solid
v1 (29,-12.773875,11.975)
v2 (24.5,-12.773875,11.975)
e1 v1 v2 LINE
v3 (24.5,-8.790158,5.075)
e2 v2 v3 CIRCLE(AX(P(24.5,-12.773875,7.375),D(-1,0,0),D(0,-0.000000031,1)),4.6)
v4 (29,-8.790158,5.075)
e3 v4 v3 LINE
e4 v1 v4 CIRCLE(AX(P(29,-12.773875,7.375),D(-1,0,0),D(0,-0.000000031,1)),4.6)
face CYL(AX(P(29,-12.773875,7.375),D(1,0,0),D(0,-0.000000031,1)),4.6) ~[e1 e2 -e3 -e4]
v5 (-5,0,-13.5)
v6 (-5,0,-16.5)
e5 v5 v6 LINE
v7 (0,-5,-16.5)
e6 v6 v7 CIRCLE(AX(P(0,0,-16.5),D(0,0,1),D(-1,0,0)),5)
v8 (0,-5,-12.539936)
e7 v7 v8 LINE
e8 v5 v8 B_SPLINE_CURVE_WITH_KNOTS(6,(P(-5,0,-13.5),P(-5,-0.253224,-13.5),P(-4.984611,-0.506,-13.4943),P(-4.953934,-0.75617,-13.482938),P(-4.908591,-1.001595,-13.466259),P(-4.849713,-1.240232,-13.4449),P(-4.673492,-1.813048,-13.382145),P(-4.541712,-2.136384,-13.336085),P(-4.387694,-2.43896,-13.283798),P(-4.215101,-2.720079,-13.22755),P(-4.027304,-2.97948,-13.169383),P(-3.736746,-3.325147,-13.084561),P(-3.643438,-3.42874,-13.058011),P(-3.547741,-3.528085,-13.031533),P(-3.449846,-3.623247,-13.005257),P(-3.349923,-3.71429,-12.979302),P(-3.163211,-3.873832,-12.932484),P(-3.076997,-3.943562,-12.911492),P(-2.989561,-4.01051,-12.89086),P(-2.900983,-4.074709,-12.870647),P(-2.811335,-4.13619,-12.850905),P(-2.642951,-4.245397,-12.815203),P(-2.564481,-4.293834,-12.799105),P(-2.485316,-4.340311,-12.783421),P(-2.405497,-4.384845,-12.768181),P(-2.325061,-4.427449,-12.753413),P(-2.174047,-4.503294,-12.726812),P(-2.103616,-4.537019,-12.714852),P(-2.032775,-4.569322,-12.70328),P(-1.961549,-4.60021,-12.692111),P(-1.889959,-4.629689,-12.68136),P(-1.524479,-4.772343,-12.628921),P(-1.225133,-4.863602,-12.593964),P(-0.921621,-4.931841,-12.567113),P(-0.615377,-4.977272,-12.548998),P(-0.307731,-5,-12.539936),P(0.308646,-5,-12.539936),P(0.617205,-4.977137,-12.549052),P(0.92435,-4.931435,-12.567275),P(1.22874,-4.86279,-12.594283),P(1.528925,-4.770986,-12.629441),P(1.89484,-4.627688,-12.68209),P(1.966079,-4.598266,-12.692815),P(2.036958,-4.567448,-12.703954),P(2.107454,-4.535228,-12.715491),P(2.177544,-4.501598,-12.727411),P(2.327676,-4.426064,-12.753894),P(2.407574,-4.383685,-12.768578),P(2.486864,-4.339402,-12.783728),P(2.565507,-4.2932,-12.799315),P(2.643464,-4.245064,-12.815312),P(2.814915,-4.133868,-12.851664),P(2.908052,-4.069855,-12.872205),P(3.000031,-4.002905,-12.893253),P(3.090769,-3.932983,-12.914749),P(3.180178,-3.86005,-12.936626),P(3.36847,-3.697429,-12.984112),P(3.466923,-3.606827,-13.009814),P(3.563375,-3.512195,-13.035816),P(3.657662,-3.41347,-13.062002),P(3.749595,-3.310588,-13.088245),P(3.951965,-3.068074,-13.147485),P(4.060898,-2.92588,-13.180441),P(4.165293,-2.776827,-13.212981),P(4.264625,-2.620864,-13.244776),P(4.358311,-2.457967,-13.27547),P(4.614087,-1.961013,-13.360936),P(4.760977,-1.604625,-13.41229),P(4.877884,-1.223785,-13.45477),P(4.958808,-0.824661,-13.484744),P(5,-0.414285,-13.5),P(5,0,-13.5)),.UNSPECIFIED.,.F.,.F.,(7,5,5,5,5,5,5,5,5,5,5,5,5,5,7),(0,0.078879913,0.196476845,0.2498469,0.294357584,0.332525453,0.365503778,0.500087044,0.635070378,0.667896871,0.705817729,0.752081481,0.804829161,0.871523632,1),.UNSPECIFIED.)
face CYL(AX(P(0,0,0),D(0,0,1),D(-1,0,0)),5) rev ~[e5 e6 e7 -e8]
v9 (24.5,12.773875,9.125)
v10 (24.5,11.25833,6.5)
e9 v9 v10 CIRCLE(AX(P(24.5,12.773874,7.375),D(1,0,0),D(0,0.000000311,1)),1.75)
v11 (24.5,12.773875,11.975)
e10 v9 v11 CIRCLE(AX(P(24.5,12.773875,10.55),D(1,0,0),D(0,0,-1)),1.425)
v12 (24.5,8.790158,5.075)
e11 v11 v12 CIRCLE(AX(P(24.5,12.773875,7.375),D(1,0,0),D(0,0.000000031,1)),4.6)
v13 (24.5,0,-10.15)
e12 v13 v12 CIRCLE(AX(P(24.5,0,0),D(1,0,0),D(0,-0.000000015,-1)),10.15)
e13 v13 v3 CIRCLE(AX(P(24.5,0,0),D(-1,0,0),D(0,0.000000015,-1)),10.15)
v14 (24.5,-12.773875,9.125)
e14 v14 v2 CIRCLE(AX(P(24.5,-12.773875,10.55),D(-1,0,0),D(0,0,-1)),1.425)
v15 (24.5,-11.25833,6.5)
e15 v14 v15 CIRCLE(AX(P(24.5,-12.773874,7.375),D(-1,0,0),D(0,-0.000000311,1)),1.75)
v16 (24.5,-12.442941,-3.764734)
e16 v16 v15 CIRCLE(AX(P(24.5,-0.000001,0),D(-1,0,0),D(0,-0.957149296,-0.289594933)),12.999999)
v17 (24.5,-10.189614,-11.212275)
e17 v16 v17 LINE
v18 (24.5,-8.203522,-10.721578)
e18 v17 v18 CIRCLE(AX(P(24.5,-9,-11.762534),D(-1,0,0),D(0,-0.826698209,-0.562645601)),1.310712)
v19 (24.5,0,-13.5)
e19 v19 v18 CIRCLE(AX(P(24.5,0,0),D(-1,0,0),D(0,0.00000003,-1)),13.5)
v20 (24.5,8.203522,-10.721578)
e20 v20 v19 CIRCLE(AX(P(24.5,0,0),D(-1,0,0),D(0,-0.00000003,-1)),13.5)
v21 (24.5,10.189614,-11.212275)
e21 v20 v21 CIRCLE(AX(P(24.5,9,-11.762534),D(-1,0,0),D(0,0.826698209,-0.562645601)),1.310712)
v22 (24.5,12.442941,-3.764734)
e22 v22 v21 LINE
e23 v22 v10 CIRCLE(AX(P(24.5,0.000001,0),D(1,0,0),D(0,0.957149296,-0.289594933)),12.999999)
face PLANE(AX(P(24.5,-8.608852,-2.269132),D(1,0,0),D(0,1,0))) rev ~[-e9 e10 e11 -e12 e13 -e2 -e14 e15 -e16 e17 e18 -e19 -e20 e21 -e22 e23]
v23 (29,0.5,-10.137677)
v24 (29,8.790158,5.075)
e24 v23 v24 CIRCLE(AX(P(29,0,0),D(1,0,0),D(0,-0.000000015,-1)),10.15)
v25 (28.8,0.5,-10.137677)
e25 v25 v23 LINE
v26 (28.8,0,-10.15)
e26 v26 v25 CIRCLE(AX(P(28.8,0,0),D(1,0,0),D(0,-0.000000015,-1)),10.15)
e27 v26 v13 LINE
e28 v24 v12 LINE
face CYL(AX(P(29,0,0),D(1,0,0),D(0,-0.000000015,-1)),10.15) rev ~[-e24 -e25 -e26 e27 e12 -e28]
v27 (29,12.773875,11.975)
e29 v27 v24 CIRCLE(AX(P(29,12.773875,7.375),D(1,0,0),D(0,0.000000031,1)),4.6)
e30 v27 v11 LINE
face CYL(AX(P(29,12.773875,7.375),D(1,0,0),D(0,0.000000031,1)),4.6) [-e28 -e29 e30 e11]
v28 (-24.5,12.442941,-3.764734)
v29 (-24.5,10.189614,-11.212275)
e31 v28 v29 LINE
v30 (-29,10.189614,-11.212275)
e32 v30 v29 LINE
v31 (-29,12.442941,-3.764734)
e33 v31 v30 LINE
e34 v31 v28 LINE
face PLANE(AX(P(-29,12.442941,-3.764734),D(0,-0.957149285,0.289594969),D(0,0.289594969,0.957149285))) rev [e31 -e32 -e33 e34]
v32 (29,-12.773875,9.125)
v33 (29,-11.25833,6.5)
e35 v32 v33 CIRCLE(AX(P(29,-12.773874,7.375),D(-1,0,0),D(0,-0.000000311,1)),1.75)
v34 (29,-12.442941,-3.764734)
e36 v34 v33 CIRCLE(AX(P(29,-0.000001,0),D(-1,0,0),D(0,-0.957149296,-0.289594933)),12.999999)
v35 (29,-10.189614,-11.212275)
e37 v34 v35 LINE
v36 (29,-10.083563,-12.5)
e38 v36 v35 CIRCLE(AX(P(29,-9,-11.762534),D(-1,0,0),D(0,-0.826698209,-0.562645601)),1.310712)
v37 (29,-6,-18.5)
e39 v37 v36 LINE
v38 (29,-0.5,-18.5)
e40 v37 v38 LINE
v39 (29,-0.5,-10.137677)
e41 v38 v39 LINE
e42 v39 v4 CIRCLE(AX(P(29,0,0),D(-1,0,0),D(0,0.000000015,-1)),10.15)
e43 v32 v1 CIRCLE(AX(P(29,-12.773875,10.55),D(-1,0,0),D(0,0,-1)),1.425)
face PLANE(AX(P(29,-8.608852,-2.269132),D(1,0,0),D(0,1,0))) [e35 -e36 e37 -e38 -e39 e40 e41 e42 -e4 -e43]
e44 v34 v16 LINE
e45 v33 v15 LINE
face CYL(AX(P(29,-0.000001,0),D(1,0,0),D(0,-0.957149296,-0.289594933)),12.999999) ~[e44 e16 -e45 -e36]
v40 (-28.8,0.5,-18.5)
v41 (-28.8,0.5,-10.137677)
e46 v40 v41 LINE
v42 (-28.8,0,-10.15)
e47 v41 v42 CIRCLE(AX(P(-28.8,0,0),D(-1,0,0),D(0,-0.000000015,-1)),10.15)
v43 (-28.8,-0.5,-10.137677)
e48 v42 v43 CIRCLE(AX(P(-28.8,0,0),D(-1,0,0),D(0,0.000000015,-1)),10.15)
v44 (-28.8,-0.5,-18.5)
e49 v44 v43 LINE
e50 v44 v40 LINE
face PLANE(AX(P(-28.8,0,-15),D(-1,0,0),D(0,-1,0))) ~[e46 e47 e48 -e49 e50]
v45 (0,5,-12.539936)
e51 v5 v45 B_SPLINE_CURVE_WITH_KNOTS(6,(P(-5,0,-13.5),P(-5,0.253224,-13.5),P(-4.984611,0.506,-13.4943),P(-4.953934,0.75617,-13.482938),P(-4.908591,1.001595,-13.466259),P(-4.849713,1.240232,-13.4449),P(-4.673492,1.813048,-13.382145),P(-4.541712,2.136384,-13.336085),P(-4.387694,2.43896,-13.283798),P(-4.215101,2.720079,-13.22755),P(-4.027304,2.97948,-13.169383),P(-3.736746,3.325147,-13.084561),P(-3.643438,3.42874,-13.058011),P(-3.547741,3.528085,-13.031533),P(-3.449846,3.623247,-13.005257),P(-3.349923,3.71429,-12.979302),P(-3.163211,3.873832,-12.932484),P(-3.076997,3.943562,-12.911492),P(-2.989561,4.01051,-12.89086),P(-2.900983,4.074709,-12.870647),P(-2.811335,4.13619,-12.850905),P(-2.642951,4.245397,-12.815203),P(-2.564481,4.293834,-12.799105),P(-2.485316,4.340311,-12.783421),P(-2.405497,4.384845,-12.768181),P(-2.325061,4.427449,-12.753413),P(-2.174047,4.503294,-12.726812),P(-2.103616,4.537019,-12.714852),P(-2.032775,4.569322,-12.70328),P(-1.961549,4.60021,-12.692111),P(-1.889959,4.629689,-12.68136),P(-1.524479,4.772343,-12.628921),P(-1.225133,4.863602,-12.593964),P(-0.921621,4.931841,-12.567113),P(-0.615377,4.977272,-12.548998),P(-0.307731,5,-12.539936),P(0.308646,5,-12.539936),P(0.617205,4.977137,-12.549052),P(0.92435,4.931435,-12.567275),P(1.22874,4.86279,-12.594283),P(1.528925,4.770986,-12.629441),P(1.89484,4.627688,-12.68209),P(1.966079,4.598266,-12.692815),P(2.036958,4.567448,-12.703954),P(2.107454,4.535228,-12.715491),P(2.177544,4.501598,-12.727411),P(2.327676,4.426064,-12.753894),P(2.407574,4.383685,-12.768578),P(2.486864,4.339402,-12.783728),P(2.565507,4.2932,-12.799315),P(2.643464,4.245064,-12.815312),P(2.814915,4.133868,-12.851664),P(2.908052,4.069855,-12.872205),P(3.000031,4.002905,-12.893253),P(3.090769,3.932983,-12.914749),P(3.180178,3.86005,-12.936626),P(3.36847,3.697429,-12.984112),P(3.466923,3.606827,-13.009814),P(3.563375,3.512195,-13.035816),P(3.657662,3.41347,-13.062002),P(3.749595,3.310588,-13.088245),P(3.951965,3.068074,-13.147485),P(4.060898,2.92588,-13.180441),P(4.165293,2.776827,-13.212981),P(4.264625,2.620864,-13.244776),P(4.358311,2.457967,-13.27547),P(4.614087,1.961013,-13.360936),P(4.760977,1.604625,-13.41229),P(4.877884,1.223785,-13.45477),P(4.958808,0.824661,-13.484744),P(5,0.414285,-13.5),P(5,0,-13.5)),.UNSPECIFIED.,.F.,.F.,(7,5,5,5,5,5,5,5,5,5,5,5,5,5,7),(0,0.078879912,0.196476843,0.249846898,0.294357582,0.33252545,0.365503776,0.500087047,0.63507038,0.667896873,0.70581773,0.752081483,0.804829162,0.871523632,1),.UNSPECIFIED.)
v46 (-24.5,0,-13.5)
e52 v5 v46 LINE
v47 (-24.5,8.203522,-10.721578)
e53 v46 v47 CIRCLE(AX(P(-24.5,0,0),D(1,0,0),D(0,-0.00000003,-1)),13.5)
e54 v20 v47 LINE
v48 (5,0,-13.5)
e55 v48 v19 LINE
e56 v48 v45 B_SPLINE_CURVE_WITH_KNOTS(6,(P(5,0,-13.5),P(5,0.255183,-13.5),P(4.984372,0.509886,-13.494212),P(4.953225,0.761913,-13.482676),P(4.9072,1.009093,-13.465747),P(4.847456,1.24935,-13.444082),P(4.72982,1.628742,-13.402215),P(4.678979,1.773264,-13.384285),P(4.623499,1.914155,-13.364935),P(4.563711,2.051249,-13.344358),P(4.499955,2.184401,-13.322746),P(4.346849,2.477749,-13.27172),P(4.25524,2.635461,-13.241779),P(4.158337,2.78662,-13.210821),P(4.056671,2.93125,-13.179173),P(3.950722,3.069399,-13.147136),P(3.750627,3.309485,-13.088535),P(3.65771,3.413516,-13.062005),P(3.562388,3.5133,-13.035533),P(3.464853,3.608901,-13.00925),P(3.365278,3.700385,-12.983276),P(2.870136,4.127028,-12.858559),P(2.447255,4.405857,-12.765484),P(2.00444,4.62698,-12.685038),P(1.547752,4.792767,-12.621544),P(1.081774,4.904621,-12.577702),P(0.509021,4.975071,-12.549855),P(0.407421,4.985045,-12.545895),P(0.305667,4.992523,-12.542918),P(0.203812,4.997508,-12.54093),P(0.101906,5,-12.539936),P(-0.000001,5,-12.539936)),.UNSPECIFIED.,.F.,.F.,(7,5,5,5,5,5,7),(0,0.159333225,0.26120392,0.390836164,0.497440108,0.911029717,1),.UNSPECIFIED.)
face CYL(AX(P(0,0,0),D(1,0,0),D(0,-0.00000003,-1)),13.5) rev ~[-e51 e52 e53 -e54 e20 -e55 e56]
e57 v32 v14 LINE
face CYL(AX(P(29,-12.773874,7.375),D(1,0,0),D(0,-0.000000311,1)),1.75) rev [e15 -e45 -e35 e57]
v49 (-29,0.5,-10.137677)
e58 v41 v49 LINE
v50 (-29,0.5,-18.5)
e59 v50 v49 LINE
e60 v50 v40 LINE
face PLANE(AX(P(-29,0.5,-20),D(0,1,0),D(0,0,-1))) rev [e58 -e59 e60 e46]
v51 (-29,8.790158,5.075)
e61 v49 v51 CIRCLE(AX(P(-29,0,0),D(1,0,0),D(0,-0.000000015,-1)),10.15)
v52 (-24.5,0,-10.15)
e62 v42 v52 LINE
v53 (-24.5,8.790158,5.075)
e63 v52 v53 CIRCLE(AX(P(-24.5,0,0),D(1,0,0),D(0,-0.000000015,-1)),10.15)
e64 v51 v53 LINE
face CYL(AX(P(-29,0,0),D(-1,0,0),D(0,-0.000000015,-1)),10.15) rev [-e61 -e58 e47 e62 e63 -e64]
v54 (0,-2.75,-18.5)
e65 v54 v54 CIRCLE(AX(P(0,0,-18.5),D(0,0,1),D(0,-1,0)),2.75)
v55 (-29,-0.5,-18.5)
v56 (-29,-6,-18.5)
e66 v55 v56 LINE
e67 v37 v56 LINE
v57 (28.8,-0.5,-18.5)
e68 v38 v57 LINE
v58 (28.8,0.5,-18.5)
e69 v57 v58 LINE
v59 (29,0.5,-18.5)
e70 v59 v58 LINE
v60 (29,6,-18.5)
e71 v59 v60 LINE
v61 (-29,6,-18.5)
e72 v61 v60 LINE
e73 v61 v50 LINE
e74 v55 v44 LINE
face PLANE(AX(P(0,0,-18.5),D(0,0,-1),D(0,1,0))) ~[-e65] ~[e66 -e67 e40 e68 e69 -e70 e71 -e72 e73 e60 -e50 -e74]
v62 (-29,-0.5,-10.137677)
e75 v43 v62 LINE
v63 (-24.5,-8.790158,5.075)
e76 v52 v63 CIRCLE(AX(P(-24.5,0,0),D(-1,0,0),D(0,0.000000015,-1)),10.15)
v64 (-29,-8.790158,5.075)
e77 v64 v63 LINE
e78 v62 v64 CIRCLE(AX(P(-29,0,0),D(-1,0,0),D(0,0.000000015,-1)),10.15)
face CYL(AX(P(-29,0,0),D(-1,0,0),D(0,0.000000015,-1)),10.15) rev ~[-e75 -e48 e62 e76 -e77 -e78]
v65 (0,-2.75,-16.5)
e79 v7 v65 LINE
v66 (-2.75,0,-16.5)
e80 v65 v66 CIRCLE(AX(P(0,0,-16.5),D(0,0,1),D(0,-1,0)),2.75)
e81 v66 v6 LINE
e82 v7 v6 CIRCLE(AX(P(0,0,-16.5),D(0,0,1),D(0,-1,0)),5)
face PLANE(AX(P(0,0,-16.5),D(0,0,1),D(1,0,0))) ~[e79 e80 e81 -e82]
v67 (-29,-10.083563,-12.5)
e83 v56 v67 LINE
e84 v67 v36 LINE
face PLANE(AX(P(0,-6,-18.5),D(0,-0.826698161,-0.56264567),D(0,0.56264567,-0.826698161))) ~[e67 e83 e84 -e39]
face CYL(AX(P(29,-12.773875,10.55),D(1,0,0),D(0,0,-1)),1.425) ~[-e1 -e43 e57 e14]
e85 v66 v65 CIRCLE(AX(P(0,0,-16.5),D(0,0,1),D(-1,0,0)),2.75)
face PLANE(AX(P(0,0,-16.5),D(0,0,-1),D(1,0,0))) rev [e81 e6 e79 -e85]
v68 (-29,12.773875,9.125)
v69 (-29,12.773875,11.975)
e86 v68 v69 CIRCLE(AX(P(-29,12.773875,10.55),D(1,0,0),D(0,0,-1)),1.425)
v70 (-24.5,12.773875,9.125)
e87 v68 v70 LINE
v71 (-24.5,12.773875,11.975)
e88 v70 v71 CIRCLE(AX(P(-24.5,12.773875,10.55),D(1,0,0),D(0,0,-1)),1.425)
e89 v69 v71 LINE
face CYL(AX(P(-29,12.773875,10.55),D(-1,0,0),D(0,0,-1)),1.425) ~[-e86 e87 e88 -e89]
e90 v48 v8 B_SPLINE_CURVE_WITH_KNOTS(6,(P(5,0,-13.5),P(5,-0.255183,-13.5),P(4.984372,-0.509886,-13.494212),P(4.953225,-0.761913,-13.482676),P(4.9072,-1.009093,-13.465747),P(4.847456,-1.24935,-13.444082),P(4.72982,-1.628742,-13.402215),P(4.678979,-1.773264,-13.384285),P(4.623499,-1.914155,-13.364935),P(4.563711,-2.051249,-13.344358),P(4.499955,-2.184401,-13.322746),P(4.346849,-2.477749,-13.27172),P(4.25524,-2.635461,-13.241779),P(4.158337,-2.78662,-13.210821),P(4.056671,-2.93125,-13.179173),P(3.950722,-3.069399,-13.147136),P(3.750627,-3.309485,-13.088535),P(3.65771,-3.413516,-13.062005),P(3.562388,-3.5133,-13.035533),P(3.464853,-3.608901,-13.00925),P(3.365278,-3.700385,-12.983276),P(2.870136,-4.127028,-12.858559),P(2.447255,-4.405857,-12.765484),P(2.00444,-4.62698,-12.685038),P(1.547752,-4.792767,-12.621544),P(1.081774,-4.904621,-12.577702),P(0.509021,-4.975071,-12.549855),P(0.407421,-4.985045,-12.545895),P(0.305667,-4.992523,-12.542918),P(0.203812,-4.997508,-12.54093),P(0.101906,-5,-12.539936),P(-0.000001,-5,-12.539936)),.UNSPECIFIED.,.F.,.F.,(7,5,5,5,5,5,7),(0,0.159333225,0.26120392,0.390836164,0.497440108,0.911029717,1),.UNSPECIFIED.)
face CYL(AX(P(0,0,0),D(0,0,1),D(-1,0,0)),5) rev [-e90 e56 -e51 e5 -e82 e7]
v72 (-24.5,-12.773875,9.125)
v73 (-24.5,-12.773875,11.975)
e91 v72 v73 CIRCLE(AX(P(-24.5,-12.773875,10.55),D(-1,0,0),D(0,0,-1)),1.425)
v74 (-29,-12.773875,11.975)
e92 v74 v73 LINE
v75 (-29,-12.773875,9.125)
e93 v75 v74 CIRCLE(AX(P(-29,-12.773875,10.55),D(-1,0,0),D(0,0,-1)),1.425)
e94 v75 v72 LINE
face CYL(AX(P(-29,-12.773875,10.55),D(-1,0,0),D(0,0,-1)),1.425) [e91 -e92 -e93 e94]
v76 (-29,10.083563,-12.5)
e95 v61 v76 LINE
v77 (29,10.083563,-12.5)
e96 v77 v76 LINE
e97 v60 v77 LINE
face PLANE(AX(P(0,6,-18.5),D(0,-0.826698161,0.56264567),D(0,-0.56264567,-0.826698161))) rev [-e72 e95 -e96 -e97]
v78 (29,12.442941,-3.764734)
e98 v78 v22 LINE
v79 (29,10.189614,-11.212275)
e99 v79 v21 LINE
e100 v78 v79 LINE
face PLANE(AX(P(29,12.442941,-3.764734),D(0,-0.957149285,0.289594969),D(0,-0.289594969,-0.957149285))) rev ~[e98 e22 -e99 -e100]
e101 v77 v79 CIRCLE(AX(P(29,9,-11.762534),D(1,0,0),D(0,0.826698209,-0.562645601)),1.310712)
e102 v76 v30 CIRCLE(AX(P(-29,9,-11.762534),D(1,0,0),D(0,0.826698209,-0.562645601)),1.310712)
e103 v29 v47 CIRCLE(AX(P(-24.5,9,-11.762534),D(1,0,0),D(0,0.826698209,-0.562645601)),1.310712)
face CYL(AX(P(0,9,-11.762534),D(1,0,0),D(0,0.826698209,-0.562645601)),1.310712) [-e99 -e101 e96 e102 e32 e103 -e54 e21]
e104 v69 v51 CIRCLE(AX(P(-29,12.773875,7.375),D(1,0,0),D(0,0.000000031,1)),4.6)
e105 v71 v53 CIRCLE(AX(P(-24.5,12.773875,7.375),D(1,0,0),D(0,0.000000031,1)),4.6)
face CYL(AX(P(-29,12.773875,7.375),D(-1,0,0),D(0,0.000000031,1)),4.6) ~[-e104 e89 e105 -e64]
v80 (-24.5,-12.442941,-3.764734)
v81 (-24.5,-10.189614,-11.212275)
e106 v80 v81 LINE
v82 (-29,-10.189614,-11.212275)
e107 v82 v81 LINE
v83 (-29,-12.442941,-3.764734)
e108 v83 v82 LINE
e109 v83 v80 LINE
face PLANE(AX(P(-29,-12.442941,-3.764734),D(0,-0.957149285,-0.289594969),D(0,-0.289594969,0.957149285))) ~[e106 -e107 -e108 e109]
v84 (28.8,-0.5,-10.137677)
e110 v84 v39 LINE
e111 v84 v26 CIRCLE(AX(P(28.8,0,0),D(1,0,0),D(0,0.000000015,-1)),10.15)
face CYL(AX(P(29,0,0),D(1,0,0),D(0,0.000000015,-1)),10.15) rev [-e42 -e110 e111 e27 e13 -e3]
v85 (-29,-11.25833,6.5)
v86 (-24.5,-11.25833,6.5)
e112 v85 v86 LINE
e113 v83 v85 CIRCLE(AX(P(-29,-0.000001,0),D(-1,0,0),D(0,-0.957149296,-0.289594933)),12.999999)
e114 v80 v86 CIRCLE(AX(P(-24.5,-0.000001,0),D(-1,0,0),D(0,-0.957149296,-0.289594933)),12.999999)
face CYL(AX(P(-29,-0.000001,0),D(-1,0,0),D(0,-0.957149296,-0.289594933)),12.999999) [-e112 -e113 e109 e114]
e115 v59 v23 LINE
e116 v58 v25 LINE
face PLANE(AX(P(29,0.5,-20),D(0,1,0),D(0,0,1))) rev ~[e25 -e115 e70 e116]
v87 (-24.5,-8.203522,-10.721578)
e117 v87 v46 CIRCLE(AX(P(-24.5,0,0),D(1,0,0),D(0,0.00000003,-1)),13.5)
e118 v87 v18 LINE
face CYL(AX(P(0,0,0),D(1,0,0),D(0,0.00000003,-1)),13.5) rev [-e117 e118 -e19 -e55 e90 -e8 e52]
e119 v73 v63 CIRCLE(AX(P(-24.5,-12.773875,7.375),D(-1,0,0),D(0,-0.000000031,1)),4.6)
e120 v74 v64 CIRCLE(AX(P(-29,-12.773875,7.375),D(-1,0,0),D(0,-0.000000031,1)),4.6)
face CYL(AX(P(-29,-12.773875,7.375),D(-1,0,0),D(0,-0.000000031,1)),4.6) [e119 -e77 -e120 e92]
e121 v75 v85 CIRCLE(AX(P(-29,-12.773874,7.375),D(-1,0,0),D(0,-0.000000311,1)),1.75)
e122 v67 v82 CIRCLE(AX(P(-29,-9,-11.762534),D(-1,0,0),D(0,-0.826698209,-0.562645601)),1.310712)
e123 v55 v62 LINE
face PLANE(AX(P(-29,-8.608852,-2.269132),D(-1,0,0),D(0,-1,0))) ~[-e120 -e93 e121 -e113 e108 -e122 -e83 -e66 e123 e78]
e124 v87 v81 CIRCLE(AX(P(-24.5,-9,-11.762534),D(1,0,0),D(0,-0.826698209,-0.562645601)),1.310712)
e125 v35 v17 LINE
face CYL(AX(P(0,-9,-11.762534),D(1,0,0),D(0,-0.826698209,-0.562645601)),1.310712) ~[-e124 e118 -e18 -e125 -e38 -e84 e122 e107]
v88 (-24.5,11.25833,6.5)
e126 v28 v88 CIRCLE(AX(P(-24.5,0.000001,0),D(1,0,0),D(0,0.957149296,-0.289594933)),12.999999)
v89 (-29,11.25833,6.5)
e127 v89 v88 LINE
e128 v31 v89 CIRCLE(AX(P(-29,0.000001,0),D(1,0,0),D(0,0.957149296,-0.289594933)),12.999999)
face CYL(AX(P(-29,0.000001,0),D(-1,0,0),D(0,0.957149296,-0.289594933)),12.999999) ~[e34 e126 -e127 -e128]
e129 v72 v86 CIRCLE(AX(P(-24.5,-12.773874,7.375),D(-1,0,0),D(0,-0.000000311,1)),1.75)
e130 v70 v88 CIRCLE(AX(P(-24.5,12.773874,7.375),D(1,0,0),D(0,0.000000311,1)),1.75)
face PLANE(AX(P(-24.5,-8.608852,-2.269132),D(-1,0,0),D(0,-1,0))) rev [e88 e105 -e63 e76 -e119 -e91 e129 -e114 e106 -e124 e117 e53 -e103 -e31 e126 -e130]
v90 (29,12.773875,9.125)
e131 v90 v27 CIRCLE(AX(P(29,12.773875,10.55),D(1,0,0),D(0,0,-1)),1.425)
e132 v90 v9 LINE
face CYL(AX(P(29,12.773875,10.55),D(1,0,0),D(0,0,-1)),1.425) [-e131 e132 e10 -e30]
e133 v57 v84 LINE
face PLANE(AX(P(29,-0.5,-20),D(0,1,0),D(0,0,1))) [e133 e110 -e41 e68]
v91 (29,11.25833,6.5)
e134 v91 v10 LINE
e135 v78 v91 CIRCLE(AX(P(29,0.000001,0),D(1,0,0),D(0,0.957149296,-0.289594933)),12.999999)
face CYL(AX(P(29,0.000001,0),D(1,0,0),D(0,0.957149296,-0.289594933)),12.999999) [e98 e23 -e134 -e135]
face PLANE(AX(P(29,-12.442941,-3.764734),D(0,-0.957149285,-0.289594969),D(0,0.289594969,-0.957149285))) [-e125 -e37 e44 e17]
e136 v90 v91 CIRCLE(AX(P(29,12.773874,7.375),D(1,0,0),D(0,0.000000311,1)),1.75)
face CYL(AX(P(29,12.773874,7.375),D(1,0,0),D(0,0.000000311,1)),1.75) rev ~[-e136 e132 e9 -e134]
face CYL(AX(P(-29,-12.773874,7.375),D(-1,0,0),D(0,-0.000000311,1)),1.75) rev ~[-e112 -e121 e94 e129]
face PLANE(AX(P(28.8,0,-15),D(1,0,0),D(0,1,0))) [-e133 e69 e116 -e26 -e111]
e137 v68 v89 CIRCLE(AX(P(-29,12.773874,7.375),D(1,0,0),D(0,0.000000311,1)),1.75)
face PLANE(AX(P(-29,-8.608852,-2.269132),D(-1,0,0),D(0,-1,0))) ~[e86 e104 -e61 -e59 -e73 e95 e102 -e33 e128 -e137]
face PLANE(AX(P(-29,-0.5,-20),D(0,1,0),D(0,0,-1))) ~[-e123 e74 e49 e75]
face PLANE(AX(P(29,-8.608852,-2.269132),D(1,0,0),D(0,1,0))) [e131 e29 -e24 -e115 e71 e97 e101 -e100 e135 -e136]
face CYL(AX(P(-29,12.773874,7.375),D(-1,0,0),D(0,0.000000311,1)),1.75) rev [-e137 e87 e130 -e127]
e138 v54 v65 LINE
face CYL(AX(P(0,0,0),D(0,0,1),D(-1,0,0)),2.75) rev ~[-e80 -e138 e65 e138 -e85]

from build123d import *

# Parameters (mm, degrees)
PAD005_DEPTH                  = 29
PAD006_DEPTH                  = 4.5
SKETCH014_R                   = 2.75
POCKET005_DEPTH               = 107.300407
SKETCH015_R                   = 5
POCKET006_DEPTH               = 16.5
PAD005_MIRRORED002_2_DEPTH    = 29
PAD006_MIRRORED002_2_DEPTH    = 4.5
SKETCH014_MIRRORED002_2_R     = 2.75
POCKET005_MIRRORED002_2_DEPTH = 107.300407
SKETCH015_MIRRORED002_2_R     = 5
POCKET006_MIRRORED002_2_DEPTH = 16.5
SKETCH023_W                   = 1
SKETCH023_H                   = 10
POCKET011_DEPTH               = 0.2


with BuildPart() as part:
    # Sketch012 → Pad005 (new body)
    with BuildSketch(Plane.YZ):
        with BuildLine():
            ThreePointArc((0, -13.5), (4.330629, -12.786542), (8.203522, -10.721578))
            ThreePointArc((10.083563, -12.5), (9.900722, -10.810344), (8.203522, -10.721578))
            Line((6, -18.5), (10.083563, -12.5))
            Line((0, -18.5), (6, -18.5))
            Line((0, -13.5), (0, -18.5))
        make_face()
    pad005 = extrude(amount=PAD005_DEPTH)

    # Sketch013 → Pad006 (join)
    with BuildSketch(Plane.YZ.offset(29)):
        with BuildLine():
            ThreePointArc((0, -10.15), (8.790158, -5.075), (8.790158, 5.075))
            ThreePointArc((12.773875, 11.975), (8.790158, 9.675), (8.790158, 5.075))
            ThreePointArc((12.773875, 9.125), (14.198875, 10.55), (12.773875, 11.975))
            ThreePointArc((12.773875, 9.125), (11.25833, 8.25), (11.25833, 6.5))
            ThreePointArc((12.442941, -3.764734), (12.914285, 1.490384), (11.25833, 6.5))
            Line((12.442941, -3.764734), (9.8, -12.5))
            Line((9.8, -12.5), (0, -14.15))
            Line((0, -10.15), (0, -14.15))
        make_face()
    pad006 = extrude(amount=-PAD006_DEPTH)

    # Sketch014 → Pocket005 (cut, through all)
    with BuildSketch(Plane.XY):
        Circle(SKETCH014_R)
    pocket005 = extrude(amount=-POCKET005_DEPTH, mode=Mode.SUBTRACT)

    # Sketch015 → Pocket006 (cut)
    with BuildSketch(Plane.XY):
        Circle(SKETCH015_R)
    pocket006 = extrude(amount=-POCKET006_DEPTH, mode=Mode.SUBTRACT)

    # Sketch012 Mirrored002 2 → Pad005 Mirrored002 2 (add)
    with BuildSketch(Plane(origin=(0, 0, 0), x_dir=(0, -1, 0), z_dir=(-1, 0, 0))):
        with BuildLine():
            ThreePointArc((0, -13.5), (4.330629, -12.786542), (8.203522, -10.721578))
            ThreePointArc((10.083563, -12.5), (9.900722, -10.810344), (8.203522, -10.721578))
            Line((6, -18.5), (10.083563, -12.5))
            Line((0, -18.5), (6, -18.5))
            Line((0, -13.5), (0, -18.5))
        make_face()
    pad005_mirrored002_2 = extrude(amount=-PAD005_MIRRORED002_2_DEPTH)

    # Sketch013 Mirrored002 2 → Pad006 Mirrored002 2 (add)
    with BuildSketch(Plane(origin=(29, 0, 0), x_dir=(0, -1, 0), z_dir=(-1, 0, 0))):
        with BuildLine():
            ThreePointArc((0, -10.15), (8.790158, -5.075), (8.790158, 5.075))
            ThreePointArc((12.773875, 11.975), (8.790158, 9.675), (8.790158, 5.075))
            ThreePointArc((12.773875, 9.125), (14.198875, 10.55), (12.773875, 11.975))
            ThreePointArc((12.773875, 9.125), (11.25833, 8.25), (11.25833, 6.5))
            ThreePointArc((12.442941, -3.764734), (12.914285, 1.490384), (11.25833, 6.5))
            Line((12.442941, -3.764734), (9.8, -12.5))
            Line((9.8, -12.5), (0, -14.15))
            Line((0, -10.15), (0, -14.15))
        make_face()
    pad006_mirrored002_2 = extrude(amount=PAD006_MIRRORED002_2_DEPTH)

    # Sketch014 Mirrored002 2 → Pocket005 Mirrored002 2 (cut, through all)
    with BuildSketch(Plane(origin=(0, 0, 0), x_dir=(1, 0, 0), z_dir=(0, 0, -1))):
        Circle(SKETCH014_MIRRORED002_2_R)
    pocket005_mirrored002_2 = extrude(amount=POCKET005_MIRRORED002_2_DEPTH, mode=Mode.SUBTRACT)

    # Sketch015 Mirrored002 2 → Pocket006 Mirrored002 2 (cut)
    with BuildSketch(Plane(origin=(0, 0, 0), x_dir=(1, 0, 0), z_dir=(0, 0, -1))):
        Circle(SKETCH015_MIRRORED002_2_R)
    pocket006_mirrored002_2 = extrude(amount=POCKET006_MIRRORED002_2_DEPTH, mode=Mode.SUBTRACT)

    # Mirrored003: Pad005, Pad006, Pocket005, Pocket006, Pad005 Mirrored002 2, Pad006 Mirrored002 2, Pocket005 Mirrored002 2, Pocket006 Mirrored002 2 across YZ
    add(pad005.mirror(Plane.YZ))
    add(pad006.mirror(Plane.YZ))
    add(pocket005.mirror(Plane.YZ), mode=Mode.SUBTRACT)
    add(pocket006.mirror(Plane.YZ), mode=Mode.SUBTRACT)
    add(pad005_mirrored002_2.mirror(Plane.YZ))
    add(pad006_mirrored002_2.mirror(Plane.YZ))
    add(pocket005_mirrored002_2.mirror(Plane.YZ), mode=Mode.SUBTRACT)
    add(pocket006_mirrored002_2.mirror(Plane.YZ), mode=Mode.SUBTRACT)

    # Sketch023 → Pocket011 (cut)
    with BuildSketch(Plane.YZ.offset(29)):
        with Locations((0, -15)):
            Rectangle(SKETCH023_W, SKETCH023_H)
    pocket011 = extrude(amount=-POCKET011_DEPTH, mode=Mode.SUBTRACT)

    # Mirrored006: Pocket011 across YZ
    add(pocket011.mirror(Plane.YZ), mode=Mode.SUBTRACT)


solid = part.part
